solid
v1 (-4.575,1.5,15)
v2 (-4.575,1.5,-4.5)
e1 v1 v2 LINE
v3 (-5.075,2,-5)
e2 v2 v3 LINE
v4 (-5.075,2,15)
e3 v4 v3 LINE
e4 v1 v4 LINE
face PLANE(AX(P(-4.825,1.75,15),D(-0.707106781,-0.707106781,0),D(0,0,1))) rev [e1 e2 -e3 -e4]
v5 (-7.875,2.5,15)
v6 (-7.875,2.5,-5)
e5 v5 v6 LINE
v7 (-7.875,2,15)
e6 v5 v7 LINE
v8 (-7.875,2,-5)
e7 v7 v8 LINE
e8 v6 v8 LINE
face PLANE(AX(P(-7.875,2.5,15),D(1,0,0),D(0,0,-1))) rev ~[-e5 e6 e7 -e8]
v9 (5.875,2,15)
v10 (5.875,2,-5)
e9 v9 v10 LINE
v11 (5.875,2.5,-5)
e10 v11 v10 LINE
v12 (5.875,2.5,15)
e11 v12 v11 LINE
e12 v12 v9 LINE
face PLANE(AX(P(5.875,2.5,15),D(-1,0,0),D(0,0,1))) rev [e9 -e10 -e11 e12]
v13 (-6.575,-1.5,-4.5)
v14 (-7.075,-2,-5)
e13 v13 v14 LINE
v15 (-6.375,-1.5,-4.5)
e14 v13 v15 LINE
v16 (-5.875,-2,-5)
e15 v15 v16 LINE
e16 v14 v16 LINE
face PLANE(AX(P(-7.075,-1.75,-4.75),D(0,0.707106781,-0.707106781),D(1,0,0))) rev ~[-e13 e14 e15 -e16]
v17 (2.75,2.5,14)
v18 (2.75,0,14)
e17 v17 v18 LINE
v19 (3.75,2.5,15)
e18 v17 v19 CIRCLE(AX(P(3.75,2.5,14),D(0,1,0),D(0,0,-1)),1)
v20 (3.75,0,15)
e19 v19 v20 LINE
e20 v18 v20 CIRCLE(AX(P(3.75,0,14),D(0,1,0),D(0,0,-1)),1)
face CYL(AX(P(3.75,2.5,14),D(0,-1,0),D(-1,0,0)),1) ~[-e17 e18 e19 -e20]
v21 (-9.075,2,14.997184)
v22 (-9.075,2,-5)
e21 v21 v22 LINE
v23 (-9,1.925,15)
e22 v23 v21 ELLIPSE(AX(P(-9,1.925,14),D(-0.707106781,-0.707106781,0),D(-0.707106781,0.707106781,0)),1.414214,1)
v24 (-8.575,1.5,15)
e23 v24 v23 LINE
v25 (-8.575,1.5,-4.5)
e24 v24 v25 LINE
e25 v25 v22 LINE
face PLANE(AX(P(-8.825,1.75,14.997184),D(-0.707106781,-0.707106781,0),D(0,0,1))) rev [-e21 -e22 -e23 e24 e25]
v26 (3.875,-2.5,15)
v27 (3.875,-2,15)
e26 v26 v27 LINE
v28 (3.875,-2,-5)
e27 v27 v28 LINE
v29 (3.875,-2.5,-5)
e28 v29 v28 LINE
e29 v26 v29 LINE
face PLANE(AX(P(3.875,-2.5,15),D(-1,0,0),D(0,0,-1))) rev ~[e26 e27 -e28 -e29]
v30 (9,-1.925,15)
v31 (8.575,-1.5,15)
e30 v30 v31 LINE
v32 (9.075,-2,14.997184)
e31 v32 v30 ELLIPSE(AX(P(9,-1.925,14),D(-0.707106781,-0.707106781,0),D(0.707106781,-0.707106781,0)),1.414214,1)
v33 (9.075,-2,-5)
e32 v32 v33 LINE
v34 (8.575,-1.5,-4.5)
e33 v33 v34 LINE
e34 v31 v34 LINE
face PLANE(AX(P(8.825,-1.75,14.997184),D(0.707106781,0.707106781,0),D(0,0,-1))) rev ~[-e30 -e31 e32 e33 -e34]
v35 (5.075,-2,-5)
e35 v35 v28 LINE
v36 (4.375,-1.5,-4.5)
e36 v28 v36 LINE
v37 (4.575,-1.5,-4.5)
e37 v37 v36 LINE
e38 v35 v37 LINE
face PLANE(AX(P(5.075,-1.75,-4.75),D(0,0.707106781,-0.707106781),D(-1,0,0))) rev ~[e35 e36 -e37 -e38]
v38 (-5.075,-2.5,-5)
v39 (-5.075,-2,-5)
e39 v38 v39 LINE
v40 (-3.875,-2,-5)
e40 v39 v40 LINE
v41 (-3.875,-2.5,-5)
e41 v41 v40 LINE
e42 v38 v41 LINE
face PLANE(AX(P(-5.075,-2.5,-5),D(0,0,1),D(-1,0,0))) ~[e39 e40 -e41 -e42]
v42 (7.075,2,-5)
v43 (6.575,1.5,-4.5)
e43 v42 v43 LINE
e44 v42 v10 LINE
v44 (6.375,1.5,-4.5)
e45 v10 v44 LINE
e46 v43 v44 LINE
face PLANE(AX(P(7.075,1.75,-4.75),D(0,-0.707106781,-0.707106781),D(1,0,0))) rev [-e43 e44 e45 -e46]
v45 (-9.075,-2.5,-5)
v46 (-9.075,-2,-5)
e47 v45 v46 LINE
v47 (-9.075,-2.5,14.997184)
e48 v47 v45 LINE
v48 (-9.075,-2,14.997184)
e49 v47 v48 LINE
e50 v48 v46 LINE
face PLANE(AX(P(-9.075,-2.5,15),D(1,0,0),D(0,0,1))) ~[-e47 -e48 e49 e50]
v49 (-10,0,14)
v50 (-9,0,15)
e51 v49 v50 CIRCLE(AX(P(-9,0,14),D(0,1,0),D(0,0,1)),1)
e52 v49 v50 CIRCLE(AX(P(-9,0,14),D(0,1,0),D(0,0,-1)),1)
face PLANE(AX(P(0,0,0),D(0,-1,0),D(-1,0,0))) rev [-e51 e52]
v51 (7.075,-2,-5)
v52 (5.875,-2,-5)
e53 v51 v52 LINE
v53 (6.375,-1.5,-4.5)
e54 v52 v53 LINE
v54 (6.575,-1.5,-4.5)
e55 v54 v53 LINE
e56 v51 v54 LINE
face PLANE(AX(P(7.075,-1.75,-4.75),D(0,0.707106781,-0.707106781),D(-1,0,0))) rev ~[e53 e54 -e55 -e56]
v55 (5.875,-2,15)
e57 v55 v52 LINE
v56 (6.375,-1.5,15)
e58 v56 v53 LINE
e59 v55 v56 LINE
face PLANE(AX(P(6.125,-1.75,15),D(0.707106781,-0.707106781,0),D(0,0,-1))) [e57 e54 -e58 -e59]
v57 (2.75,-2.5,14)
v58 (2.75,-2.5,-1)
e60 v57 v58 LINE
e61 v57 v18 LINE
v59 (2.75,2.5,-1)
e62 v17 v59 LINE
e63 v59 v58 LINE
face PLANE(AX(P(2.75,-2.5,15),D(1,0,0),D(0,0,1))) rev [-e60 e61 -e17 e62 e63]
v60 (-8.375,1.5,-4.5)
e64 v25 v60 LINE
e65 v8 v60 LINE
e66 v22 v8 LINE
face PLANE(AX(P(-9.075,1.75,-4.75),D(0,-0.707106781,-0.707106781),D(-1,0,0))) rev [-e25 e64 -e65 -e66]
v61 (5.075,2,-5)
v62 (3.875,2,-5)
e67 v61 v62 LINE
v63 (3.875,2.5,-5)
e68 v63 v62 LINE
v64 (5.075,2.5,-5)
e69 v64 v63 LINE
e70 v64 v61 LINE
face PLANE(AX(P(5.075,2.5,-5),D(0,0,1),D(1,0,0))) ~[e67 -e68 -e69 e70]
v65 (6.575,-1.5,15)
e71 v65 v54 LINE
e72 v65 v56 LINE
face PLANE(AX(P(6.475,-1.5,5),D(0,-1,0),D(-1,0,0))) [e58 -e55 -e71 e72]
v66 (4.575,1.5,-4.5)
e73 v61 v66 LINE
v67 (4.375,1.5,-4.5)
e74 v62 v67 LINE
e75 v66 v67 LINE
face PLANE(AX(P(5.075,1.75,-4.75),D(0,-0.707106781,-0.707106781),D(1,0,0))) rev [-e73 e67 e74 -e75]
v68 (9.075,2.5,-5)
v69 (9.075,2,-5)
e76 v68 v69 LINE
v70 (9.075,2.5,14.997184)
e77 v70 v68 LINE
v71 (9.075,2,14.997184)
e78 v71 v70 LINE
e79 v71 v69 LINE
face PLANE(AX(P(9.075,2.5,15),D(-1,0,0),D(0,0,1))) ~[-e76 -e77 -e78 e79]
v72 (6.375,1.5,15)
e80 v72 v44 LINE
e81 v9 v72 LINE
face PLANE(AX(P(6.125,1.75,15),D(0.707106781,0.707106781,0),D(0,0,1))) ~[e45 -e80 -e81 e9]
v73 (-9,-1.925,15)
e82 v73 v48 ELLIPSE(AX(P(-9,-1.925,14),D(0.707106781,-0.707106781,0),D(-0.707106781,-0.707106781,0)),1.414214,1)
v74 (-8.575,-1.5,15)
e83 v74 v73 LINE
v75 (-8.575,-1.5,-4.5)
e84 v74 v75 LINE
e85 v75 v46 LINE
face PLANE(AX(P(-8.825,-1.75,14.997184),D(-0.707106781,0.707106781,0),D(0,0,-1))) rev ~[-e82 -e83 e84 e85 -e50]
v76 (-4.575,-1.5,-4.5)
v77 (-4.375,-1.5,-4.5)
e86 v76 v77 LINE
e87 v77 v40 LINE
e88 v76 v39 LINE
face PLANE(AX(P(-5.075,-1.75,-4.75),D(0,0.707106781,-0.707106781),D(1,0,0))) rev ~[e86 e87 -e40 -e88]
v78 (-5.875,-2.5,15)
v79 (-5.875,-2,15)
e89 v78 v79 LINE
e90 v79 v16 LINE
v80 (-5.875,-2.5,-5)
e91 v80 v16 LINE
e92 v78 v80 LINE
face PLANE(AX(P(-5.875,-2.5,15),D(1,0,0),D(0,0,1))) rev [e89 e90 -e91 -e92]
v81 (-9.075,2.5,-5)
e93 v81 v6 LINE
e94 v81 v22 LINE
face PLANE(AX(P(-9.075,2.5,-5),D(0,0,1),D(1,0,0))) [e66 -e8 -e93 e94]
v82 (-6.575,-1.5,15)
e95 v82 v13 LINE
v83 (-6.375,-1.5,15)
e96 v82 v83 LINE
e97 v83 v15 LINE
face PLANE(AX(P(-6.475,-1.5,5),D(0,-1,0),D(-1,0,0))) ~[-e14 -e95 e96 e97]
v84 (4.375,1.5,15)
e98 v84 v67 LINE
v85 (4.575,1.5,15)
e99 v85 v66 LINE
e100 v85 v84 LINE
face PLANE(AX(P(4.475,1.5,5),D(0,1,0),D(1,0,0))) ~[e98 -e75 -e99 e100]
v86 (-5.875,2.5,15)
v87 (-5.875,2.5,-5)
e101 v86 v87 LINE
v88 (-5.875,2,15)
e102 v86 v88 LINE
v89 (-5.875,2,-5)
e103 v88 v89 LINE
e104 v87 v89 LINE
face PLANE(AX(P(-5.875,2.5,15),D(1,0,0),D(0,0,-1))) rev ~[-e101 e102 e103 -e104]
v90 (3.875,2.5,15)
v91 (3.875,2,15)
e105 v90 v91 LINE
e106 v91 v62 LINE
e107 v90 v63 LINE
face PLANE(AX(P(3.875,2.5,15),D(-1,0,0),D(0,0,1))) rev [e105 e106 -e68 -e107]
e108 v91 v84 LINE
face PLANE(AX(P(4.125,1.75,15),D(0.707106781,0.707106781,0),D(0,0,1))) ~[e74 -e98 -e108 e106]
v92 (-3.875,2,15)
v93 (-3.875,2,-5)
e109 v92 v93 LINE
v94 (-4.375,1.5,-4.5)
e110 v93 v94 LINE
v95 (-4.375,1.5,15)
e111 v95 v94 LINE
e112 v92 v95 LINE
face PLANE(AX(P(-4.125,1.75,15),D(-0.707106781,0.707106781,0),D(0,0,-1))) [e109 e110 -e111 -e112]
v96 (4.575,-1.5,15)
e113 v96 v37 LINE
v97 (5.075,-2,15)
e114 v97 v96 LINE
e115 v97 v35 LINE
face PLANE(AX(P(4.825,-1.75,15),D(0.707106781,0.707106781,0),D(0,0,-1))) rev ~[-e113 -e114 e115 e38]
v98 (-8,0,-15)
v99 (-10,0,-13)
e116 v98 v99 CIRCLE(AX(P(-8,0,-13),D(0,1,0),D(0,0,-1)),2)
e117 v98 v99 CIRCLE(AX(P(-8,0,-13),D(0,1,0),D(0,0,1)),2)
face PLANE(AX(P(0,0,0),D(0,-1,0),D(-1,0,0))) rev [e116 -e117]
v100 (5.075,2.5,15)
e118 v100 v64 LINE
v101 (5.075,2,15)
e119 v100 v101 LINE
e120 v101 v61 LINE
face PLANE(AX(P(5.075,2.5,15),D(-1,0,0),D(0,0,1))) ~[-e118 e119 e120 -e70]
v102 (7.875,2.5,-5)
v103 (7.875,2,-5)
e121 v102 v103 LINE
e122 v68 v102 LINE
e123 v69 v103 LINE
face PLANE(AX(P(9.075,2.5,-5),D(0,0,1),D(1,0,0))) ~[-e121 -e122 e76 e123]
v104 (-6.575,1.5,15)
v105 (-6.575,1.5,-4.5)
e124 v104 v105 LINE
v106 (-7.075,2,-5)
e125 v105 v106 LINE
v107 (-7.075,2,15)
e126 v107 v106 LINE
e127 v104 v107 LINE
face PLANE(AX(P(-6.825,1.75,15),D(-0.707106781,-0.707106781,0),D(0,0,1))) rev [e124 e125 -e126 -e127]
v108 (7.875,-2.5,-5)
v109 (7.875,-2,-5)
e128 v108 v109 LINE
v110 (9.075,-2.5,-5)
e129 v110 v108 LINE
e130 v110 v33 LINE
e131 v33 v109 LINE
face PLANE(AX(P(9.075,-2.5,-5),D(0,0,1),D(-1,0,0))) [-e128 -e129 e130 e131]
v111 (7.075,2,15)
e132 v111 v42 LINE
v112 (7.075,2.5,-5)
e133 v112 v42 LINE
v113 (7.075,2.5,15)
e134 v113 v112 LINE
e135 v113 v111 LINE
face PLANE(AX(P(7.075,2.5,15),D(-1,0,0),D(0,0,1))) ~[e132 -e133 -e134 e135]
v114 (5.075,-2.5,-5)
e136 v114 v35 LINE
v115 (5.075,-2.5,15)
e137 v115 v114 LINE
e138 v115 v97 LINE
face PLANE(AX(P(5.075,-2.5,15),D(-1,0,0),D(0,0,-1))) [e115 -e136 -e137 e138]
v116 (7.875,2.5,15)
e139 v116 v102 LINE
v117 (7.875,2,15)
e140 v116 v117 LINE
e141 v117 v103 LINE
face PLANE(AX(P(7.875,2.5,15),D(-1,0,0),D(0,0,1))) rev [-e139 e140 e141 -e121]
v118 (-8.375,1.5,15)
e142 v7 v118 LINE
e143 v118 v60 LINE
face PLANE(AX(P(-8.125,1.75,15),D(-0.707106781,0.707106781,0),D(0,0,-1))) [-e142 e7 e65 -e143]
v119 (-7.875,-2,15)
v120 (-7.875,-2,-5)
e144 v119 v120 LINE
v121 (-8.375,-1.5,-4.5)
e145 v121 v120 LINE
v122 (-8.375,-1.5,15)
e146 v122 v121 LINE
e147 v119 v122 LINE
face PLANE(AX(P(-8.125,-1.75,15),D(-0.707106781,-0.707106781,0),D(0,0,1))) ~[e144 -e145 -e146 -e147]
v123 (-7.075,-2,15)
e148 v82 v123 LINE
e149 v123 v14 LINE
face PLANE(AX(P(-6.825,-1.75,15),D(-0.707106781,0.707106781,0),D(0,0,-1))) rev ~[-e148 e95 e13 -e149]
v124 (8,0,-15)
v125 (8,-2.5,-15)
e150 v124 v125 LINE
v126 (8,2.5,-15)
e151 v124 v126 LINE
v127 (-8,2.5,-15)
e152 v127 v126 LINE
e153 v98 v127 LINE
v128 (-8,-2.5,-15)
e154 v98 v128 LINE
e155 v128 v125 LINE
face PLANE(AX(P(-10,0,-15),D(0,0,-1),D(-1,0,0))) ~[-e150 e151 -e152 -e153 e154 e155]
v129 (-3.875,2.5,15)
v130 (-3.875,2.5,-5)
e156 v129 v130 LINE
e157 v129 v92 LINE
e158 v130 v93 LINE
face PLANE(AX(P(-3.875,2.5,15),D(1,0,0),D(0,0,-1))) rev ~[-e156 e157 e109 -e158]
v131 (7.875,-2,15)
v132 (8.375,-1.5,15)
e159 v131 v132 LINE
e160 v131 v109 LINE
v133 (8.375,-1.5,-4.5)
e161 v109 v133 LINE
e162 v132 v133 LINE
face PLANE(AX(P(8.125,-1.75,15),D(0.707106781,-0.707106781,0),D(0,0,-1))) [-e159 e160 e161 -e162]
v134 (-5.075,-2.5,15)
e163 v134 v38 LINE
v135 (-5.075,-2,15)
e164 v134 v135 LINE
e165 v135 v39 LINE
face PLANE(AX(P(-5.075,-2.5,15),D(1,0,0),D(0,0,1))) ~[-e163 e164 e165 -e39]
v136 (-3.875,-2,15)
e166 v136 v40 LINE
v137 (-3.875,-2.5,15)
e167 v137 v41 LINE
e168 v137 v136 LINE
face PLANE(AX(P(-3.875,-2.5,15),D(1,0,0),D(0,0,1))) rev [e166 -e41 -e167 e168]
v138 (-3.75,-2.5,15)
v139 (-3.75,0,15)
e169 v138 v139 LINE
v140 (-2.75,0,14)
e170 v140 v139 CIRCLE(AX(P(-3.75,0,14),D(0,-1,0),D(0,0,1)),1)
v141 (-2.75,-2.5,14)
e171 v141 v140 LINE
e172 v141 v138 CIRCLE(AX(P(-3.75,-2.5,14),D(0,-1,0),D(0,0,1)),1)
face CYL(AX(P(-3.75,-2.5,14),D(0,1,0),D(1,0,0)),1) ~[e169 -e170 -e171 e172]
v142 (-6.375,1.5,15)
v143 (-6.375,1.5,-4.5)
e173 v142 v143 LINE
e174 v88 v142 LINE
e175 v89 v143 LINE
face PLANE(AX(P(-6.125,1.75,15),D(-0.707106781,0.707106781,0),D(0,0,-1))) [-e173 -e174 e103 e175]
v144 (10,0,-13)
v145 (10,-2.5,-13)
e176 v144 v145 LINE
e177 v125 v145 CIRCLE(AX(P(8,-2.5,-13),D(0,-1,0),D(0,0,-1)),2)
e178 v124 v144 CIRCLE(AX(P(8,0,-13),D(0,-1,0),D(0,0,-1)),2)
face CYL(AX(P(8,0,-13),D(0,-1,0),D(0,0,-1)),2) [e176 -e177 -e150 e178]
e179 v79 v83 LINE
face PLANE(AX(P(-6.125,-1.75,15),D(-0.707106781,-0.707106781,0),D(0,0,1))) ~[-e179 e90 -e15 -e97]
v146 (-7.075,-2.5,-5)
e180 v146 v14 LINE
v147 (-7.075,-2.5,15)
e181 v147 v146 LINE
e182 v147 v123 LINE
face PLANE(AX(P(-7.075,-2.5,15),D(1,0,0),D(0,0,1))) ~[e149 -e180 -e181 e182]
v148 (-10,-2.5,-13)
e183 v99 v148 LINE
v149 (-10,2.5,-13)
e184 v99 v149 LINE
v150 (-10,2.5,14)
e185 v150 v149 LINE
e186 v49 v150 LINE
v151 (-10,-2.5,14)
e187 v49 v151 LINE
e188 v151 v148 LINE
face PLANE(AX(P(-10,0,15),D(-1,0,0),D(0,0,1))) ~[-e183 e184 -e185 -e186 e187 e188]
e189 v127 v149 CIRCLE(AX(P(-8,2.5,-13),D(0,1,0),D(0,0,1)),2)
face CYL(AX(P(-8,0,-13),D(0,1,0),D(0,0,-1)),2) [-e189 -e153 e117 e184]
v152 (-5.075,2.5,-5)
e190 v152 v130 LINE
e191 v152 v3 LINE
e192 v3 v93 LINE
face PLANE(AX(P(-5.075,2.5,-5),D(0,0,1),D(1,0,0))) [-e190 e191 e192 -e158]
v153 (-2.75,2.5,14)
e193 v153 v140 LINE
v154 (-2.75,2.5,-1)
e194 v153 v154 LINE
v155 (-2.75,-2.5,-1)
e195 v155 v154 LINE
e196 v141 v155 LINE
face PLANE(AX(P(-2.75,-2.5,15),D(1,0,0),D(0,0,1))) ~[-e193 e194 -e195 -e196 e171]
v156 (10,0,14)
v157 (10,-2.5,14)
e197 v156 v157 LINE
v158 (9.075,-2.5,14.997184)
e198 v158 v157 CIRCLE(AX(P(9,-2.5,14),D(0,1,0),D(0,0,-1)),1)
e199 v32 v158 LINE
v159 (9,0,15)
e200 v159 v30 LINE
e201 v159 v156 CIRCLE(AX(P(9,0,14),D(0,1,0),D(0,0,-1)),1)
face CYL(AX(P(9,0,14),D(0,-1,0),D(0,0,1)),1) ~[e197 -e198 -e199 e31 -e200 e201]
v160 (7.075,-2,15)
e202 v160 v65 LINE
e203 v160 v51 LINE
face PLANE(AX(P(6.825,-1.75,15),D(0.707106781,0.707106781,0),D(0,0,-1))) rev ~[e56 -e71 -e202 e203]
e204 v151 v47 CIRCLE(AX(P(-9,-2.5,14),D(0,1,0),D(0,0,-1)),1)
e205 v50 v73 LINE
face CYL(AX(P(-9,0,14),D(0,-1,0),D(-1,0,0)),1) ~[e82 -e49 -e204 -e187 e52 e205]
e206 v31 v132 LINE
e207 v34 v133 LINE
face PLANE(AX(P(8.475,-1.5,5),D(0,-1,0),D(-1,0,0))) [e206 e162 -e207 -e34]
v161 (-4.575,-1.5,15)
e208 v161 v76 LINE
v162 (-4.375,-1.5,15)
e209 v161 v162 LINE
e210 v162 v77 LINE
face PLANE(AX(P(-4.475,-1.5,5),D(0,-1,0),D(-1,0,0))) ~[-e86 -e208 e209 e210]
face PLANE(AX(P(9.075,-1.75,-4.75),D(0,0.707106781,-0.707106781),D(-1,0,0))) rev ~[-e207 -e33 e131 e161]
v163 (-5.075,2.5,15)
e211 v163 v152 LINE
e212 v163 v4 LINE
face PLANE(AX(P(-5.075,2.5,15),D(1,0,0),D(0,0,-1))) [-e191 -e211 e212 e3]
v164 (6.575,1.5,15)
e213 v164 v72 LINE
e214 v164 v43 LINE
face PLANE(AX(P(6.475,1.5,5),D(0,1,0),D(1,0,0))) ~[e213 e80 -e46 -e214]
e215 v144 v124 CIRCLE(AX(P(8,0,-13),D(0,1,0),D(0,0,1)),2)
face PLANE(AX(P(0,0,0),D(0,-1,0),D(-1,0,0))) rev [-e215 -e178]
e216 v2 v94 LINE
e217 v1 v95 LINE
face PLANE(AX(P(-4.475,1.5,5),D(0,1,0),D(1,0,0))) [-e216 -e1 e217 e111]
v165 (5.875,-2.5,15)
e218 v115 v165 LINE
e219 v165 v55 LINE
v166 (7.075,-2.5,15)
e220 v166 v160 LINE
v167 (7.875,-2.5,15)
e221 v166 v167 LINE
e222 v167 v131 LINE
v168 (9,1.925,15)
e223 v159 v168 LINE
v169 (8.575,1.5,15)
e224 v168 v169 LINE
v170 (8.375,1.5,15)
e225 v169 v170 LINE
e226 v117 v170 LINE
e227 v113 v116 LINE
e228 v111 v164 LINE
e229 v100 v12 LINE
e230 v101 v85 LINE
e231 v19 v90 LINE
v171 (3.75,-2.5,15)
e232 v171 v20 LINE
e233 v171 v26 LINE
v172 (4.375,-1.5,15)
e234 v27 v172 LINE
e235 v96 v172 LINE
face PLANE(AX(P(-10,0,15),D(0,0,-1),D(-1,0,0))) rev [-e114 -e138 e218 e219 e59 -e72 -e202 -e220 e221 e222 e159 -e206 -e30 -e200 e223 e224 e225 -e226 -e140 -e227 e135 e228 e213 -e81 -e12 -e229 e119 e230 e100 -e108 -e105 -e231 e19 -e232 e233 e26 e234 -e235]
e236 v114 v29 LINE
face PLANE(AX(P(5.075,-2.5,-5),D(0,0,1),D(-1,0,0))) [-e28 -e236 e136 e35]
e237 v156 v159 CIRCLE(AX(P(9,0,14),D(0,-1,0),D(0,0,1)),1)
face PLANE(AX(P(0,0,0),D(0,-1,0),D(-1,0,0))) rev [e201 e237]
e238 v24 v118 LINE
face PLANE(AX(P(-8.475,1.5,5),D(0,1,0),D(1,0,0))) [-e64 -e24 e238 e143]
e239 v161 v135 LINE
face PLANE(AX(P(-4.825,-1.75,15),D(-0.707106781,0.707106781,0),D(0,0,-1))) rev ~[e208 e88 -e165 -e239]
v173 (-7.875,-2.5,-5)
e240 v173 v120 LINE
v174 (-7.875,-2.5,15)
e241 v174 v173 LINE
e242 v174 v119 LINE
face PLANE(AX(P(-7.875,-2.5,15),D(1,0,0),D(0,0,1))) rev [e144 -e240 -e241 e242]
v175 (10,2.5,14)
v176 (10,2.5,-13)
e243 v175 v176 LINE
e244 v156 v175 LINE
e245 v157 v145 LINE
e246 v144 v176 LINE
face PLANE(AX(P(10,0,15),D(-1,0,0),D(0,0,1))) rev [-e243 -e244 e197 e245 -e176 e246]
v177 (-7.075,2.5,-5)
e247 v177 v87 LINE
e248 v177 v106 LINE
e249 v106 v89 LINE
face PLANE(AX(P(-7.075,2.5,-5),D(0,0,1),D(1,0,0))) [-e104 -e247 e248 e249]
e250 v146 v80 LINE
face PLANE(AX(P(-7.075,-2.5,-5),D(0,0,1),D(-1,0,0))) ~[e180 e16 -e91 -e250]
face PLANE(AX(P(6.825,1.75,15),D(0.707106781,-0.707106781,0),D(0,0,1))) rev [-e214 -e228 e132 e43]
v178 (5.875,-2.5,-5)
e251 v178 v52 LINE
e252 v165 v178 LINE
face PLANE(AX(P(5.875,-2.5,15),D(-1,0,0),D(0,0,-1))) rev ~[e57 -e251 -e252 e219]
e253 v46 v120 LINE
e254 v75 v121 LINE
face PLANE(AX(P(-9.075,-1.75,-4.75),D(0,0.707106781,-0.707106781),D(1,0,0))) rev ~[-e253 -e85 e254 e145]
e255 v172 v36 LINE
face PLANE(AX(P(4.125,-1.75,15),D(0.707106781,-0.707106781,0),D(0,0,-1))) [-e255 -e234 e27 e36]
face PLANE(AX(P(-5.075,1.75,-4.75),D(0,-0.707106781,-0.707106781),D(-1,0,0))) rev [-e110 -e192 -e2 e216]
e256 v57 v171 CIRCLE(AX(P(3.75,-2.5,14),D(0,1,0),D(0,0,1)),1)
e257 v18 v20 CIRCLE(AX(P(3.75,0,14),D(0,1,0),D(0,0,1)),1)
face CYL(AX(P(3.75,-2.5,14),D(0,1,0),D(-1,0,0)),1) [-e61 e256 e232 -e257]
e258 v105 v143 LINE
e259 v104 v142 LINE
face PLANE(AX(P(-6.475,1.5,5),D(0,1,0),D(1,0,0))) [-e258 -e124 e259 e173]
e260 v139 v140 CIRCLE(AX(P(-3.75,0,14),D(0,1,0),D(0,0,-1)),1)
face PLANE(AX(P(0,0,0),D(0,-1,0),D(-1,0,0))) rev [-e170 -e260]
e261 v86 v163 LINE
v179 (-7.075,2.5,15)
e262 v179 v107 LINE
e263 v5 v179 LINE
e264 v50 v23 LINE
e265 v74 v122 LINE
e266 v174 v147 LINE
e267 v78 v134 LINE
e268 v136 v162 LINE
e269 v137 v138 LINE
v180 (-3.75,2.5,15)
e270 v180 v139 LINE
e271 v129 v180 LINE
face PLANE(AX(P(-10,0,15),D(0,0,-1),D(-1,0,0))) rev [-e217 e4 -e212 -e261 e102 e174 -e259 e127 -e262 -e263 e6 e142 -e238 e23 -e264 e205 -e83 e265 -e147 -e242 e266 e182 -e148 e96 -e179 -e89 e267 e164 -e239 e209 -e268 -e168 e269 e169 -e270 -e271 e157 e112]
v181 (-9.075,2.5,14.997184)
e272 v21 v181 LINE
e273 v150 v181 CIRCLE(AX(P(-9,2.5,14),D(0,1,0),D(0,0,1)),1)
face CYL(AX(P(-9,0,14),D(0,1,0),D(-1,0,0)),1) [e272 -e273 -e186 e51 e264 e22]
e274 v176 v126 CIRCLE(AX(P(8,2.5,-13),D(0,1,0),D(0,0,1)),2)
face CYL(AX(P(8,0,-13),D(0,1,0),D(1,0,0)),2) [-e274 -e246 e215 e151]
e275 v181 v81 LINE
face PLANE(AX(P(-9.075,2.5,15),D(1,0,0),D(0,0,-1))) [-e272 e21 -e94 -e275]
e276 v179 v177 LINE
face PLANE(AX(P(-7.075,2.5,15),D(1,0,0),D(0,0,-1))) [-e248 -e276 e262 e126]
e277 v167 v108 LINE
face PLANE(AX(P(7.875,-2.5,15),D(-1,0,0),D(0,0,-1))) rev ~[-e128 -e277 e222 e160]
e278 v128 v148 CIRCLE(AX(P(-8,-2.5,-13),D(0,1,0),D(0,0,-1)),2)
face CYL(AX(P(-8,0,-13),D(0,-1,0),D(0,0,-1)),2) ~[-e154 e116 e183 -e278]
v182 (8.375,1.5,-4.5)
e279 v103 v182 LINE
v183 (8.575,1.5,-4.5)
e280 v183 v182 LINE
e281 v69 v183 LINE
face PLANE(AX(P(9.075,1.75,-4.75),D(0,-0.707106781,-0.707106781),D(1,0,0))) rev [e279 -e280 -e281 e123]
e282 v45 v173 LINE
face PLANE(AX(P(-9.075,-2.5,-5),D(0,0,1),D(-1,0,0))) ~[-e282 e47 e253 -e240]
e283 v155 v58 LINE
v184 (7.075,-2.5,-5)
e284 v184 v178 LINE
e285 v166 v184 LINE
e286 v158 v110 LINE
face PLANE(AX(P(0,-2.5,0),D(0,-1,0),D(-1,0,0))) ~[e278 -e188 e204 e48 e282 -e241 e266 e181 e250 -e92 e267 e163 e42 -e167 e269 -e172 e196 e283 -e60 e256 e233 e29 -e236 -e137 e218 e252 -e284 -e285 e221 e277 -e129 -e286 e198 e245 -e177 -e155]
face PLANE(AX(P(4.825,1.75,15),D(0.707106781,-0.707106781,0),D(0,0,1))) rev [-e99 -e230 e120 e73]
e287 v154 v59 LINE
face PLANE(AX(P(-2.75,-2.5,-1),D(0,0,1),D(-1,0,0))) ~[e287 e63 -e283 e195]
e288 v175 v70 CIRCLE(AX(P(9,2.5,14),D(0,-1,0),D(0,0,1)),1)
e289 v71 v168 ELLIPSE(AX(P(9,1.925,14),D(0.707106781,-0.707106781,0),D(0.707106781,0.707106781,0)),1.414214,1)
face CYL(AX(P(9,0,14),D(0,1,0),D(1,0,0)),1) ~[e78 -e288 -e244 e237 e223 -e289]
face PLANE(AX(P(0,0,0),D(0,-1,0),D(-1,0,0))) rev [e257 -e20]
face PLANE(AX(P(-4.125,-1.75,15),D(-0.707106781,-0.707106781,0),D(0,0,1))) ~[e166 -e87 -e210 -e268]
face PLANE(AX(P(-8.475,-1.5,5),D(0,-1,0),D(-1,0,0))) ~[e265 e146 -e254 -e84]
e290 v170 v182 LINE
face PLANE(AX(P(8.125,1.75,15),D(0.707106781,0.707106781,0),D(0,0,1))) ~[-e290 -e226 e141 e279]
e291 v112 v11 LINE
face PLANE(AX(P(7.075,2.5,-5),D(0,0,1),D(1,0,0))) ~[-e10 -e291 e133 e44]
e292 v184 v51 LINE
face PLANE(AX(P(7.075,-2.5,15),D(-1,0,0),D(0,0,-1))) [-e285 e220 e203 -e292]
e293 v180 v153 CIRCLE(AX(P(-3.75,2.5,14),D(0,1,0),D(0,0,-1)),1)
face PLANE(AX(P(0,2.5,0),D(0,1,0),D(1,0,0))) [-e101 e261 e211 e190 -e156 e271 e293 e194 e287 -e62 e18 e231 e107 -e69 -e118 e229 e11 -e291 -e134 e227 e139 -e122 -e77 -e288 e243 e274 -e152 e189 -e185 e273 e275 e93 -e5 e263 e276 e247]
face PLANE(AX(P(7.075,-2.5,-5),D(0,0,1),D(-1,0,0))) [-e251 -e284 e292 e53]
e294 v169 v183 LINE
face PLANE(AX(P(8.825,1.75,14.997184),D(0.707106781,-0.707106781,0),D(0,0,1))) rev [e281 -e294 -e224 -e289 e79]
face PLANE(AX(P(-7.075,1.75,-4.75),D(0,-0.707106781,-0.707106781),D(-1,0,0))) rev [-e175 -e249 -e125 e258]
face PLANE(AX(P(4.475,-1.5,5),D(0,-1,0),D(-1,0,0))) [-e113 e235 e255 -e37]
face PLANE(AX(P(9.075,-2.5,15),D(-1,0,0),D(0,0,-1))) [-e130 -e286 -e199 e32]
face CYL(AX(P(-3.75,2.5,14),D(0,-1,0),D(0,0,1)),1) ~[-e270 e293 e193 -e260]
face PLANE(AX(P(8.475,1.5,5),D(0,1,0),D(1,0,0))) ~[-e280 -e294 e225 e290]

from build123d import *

# Parameters (mm, degrees)
ESBO_O1_W                 = 20
ESBO_O1_H                 = 30
RESSALTO_EXTRUS_O1_DEPTH  = 2.5
ESBO_O2_W                 = 5.5
ESBO_O2_H                 = 16
CORTE_EXTRUS_O1_DEPTH     = 5
FILETE1_R                 = 1
FILETE2_R                 = 2
FILETE3_R                 = 2
FILETE4_R                 = 1
FILETE5_R                 = 1
FILETE6_R                 = 1
ESBO_O3_W                 = 1.2
ESBO_O3_H                 = 20
CORTE_EXTRUS_O2_DEPTH     = 1
CHANFRO1_SIZE             = 0.5
CHANFRO3_SIZE             = 0.5
FILETE1_OF_ESPELHAR6_R    = 1
ESPELHAR7_COPY_1_SKETCH_W = 1.2
ESPELHAR7_COPY_1_SKETCH_H = 20
ESPELHAR7_COPY_1_DEPTH    = 1
ESPELHAR7_COPY_2_SKETCH_W = 1.2
ESPELHAR7_COPY_2_SKETCH_H = 20
ESPELHAR7_COPY_2_DEPTH    = 1
FILETE7_R                 = 2
FILETE8_R                 = 2
FILETE9_R                 = 1
CHANFRO4_SIZE             = 0.5
CHANFRO5_SIZE             = 0.5
FILETE10_R                = 1
FILETE11_R                = 1


with BuildPart() as part:
    # Esboço1 → Ressalto-extrusão1 (new body)
    with BuildSketch(Plane(origin=(0, 0, 0), x_dir=(1, 0, 0), z_dir=(0, 1, 0))):
        Rectangle(ESBO_O1_W, ESBO_O1_H)
    ressalto_extrus_o1 = extrude(amount=RESSALTO_EXTRUS_O1_DEPTH)

    # Esboço2 → Corte-extrusão1 (cut)
    with BuildSketch(Plane(origin=(0, 2.5, 0), x_dir=(1, 0, 0), z_dir=(0, 1, 0))):
        with Locations((0, -7)):
            Rectangle(ESBO_O2_W, ESBO_O2_H)
    corte_extrus_o1 = extrude(amount=-CORTE_EXTRUS_O1_DEPTH, mode=Mode.SUBTRACT)

    # Filete1
    filete1_edges = [part.edges().sort_by_distance(p)[0] for p in [
        (10, 1.25, 15),
    ]]
    fillet(filete1_edges, radius=FILETE1_R)

    # Filete2
    filete2_edges = [part.edges().sort_by_distance(p)[0] for p in [
        (10, 1.25, -15),
    ]]
    fillet(filete2_edges, radius=FILETE2_R)

    # Filete3
    filete3_edges = [part.edges().sort_by_distance(p)[0] for p in [
        (-10, 1.25, -15),
    ]]
    fillet(filete3_edges, radius=FILETE3_R)

    # Filete4
    filete4_edges = [part.edges().sort_by_distance(p)[0] for p in [
        (-10, 1.25, 15),
    ]]
    fillet(filete4_edges, radius=FILETE4_R)

    # Filete5
    filete5_edges = [part.edges().sort_by_distance(p)[0] for p in [
        (-2.75, 1.25, 15),
    ]]
    fillet(filete5_edges, radius=FILETE5_R)

    # Filete6
    filete6_edges = [part.edges().sort_by_distance(p)[0] for p in [
        (2.75, 1.25, 15),
    ]]
    fillet(filete6_edges, radius=FILETE6_R)

    # Esboço3 → Corte-extrusão2 (cut)
    with BuildSketch(Plane(origin=(0, 2.5, 0), x_dir=(1, 0, 0), z_dir=(0, 1, 0))):
        with Locations((-4.475, -5)):
            Rectangle(ESBO_O3_W, ESBO_O3_H)
        with Locations((-6.475, -5)):
            Rectangle(ESBO_O3_W, ESBO_O3_H)
        with Locations((-8.475, -5)):
            Rectangle(ESBO_O3_W, ESBO_O3_H)
    corte_extrus_o2 = extrude(amount=-CORTE_EXTRUS_O2_DEPTH, mode=Mode.SUBTRACT)

    # Chanfro1
    chanfro1_edges = [part.edges().sort_by_distance(p)[0] for p in [
        (-7.875, 1.5, 5),
        (-9.075, 1.5, 4.998591767),
        (-3.875, 1.5, 5),
        (-4.475, 1.5, -5),
        (-5.075, 1.5, 5),
        (-5.875, 1.5, 5),
        (-6.475, 1.5, -5),
        (-7.075, 1.5, 5),
        (-8.475, 1.5, -5),
    ]]
    chamfer(chanfro1_edges, length=CHANFRO1_SIZE)

    # Espelhar4: Corte-extrusão2 across plane
    add(corte_extrus_o2.mirror(Plane(origin=(0, 0, 0), x_dir=(0, 0, 1), z_dir=(1, 0, 0))), mode=Mode.SUBTRACT)

    # Chanfro3
    chanfro3_edges = [part.edges().sort_by_distance(p)[0] for p in [
        (9.075, 1.5, 4.998591767),
        (8.475, 1.5, -5),
        (7.875, 1.5, 5),
        (7.075, 1.5, 5),
        (6.475, 1.5, -5),
        (5.875, 1.5, 5),
        (5.075, 1.5, 5),
        (4.475, 1.5, -5),
        (3.875, 1.5, 5),
    ]]
    chamfer(chanfro3_edges, length=CHANFRO3_SIZE)

    # Espelhar5: Ressalto-extrusão1 across plane
    add(ressalto_extrus_o1.mirror(Plane.ZX))

    # Espelhar6: Corte-extrusão2 across plane
    add(corte_extrus_o2.mirror(Plane.ZX), mode=Mode.SUBTRACT)

    # Filete1 of Espelhar6
    filete1_of_espelhar6_edges = [part.edges().sort_by_distance(p)[0] for p in [
        (10, -1.25, 15),
    ]]
    fillet(filete1_of_espelhar6_edges, radius=FILETE1_OF_ESPELHAR6_R)

    # Espelhar7 copy 1 sketch → Espelhar7 copy 1 (cut)
    with BuildSketch(Plane(origin=(0, -2.5, 0), x_dir=(-1, 0, 0), z_dir=(0, -1, 0))):
        with Locations((-4.475, -5)):
            Rectangle(ESPELHAR7_COPY_1_SKETCH_W, ESPELHAR7_COPY_1_SKETCH_H)
        with Locations((-6.475, -5)):
            Rectangle(ESPELHAR7_COPY_1_SKETCH_W, ESPELHAR7_COPY_1_SKETCH_H)
        with Locations((-8.475, -5)):
            Rectangle(ESPELHAR7_COPY_1_SKETCH_W, ESPELHAR7_COPY_1_SKETCH_H)
    extrude(amount=-ESPELHAR7_COPY_1_DEPTH, mode=Mode.SUBTRACT)

    # Espelhar7 copy 2 sketch → Espelhar7 copy 2 (cut)
    with BuildSketch(Plane.XZ.offset(2.5)):
        with Locations((-4.475, 5)):
            Rectangle(ESPELHAR7_COPY_2_SKETCH_W, ESPELHAR7_COPY_2_SKETCH_H)
        with Locations((-6.475, 5)):
            Rectangle(ESPELHAR7_COPY_2_SKETCH_W, ESPELHAR7_COPY_2_SKETCH_H)
        with Locations((-8.475, 5)):
            Rectangle(ESPELHAR7_COPY_2_SKETCH_W, ESPELHAR7_COPY_2_SKETCH_H)
    extrude(amount=-ESPELHAR7_COPY_2_DEPTH, mode=Mode.SUBTRACT)

    # Filete7
    filete7_edges = [part.edges().sort_by_distance(p)[0] for p in [
        (10, -1.25, -15),
    ]]
    fillet(filete7_edges, radius=FILETE7_R)

    # Filete8
    filete8_edges = [part.edges().sort_by_distance(p)[0] for p in [
        (-10, -1.25, -15),
    ]]
    fillet(filete8_edges, radius=FILETE8_R)

    # Filete9
    filete9_edges = [part.edges().sort_by_distance(p)[0] for p in [
        (-10, -1.25, 15),
    ]]
    fillet(filete9_edges, radius=FILETE9_R)

    # Chanfro4
    chanfro4_edges = [part.edges().sort_by_distance(p)[0] for p in [
        (3.875, -1.5, 5),
        (4.475, -1.5, -5),
        (5.075, -1.5, 5),
        (5.875, -1.5, 5),
        (6.475, -1.5, -5),
        (7.075, -1.5, 5),
        (7.875, -1.5, 5),
        (8.475, -1.5, -5),
        (9.075, -1.5, 4.998591767),
    ]]
    chamfer(chanfro4_edges, length=CHANFRO4_SIZE)

    # Chanfro5
    chanfro5_edges = [part.edges().sort_by_distance(p)[0] for p in [
        (-9.075, -1.5, 4.998591767),
        (-8.475, -1.5, -5),
        (-7.875, -1.5, 5),
        (-7.075, -1.5, 5),
        (-6.475, -1.5, -5),
        (-5.875, -1.5, 5),
        (-5.075, -1.5, 5),
        (-4.475, -1.5, -5),
        (-3.875, -1.5, 5),
    ]]
    chamfer(chanfro5_edges, length=CHANFRO5_SIZE)

    # Espelhar8: Corte-extrusão1 across plane
    add(corte_extrus_o1.mirror(Plane.ZX), mode=Mode.SUBTRACT)

    # Filete10
    filete10_edges = [part.edges().sort_by_distance(p)[0] for p in [
        (2.75, -1.25, 15),
    ]]
    fillet(filete10_edges, radius=FILETE10_R)

    # Filete11
    filete11_edges = [part.edges().sort_by_distance(p)[0] for p in [
        (-2.75, -1.25, 15),
    ]]
    fillet(filete11_edges, radius=FILETE11_R)


solid = part.part
